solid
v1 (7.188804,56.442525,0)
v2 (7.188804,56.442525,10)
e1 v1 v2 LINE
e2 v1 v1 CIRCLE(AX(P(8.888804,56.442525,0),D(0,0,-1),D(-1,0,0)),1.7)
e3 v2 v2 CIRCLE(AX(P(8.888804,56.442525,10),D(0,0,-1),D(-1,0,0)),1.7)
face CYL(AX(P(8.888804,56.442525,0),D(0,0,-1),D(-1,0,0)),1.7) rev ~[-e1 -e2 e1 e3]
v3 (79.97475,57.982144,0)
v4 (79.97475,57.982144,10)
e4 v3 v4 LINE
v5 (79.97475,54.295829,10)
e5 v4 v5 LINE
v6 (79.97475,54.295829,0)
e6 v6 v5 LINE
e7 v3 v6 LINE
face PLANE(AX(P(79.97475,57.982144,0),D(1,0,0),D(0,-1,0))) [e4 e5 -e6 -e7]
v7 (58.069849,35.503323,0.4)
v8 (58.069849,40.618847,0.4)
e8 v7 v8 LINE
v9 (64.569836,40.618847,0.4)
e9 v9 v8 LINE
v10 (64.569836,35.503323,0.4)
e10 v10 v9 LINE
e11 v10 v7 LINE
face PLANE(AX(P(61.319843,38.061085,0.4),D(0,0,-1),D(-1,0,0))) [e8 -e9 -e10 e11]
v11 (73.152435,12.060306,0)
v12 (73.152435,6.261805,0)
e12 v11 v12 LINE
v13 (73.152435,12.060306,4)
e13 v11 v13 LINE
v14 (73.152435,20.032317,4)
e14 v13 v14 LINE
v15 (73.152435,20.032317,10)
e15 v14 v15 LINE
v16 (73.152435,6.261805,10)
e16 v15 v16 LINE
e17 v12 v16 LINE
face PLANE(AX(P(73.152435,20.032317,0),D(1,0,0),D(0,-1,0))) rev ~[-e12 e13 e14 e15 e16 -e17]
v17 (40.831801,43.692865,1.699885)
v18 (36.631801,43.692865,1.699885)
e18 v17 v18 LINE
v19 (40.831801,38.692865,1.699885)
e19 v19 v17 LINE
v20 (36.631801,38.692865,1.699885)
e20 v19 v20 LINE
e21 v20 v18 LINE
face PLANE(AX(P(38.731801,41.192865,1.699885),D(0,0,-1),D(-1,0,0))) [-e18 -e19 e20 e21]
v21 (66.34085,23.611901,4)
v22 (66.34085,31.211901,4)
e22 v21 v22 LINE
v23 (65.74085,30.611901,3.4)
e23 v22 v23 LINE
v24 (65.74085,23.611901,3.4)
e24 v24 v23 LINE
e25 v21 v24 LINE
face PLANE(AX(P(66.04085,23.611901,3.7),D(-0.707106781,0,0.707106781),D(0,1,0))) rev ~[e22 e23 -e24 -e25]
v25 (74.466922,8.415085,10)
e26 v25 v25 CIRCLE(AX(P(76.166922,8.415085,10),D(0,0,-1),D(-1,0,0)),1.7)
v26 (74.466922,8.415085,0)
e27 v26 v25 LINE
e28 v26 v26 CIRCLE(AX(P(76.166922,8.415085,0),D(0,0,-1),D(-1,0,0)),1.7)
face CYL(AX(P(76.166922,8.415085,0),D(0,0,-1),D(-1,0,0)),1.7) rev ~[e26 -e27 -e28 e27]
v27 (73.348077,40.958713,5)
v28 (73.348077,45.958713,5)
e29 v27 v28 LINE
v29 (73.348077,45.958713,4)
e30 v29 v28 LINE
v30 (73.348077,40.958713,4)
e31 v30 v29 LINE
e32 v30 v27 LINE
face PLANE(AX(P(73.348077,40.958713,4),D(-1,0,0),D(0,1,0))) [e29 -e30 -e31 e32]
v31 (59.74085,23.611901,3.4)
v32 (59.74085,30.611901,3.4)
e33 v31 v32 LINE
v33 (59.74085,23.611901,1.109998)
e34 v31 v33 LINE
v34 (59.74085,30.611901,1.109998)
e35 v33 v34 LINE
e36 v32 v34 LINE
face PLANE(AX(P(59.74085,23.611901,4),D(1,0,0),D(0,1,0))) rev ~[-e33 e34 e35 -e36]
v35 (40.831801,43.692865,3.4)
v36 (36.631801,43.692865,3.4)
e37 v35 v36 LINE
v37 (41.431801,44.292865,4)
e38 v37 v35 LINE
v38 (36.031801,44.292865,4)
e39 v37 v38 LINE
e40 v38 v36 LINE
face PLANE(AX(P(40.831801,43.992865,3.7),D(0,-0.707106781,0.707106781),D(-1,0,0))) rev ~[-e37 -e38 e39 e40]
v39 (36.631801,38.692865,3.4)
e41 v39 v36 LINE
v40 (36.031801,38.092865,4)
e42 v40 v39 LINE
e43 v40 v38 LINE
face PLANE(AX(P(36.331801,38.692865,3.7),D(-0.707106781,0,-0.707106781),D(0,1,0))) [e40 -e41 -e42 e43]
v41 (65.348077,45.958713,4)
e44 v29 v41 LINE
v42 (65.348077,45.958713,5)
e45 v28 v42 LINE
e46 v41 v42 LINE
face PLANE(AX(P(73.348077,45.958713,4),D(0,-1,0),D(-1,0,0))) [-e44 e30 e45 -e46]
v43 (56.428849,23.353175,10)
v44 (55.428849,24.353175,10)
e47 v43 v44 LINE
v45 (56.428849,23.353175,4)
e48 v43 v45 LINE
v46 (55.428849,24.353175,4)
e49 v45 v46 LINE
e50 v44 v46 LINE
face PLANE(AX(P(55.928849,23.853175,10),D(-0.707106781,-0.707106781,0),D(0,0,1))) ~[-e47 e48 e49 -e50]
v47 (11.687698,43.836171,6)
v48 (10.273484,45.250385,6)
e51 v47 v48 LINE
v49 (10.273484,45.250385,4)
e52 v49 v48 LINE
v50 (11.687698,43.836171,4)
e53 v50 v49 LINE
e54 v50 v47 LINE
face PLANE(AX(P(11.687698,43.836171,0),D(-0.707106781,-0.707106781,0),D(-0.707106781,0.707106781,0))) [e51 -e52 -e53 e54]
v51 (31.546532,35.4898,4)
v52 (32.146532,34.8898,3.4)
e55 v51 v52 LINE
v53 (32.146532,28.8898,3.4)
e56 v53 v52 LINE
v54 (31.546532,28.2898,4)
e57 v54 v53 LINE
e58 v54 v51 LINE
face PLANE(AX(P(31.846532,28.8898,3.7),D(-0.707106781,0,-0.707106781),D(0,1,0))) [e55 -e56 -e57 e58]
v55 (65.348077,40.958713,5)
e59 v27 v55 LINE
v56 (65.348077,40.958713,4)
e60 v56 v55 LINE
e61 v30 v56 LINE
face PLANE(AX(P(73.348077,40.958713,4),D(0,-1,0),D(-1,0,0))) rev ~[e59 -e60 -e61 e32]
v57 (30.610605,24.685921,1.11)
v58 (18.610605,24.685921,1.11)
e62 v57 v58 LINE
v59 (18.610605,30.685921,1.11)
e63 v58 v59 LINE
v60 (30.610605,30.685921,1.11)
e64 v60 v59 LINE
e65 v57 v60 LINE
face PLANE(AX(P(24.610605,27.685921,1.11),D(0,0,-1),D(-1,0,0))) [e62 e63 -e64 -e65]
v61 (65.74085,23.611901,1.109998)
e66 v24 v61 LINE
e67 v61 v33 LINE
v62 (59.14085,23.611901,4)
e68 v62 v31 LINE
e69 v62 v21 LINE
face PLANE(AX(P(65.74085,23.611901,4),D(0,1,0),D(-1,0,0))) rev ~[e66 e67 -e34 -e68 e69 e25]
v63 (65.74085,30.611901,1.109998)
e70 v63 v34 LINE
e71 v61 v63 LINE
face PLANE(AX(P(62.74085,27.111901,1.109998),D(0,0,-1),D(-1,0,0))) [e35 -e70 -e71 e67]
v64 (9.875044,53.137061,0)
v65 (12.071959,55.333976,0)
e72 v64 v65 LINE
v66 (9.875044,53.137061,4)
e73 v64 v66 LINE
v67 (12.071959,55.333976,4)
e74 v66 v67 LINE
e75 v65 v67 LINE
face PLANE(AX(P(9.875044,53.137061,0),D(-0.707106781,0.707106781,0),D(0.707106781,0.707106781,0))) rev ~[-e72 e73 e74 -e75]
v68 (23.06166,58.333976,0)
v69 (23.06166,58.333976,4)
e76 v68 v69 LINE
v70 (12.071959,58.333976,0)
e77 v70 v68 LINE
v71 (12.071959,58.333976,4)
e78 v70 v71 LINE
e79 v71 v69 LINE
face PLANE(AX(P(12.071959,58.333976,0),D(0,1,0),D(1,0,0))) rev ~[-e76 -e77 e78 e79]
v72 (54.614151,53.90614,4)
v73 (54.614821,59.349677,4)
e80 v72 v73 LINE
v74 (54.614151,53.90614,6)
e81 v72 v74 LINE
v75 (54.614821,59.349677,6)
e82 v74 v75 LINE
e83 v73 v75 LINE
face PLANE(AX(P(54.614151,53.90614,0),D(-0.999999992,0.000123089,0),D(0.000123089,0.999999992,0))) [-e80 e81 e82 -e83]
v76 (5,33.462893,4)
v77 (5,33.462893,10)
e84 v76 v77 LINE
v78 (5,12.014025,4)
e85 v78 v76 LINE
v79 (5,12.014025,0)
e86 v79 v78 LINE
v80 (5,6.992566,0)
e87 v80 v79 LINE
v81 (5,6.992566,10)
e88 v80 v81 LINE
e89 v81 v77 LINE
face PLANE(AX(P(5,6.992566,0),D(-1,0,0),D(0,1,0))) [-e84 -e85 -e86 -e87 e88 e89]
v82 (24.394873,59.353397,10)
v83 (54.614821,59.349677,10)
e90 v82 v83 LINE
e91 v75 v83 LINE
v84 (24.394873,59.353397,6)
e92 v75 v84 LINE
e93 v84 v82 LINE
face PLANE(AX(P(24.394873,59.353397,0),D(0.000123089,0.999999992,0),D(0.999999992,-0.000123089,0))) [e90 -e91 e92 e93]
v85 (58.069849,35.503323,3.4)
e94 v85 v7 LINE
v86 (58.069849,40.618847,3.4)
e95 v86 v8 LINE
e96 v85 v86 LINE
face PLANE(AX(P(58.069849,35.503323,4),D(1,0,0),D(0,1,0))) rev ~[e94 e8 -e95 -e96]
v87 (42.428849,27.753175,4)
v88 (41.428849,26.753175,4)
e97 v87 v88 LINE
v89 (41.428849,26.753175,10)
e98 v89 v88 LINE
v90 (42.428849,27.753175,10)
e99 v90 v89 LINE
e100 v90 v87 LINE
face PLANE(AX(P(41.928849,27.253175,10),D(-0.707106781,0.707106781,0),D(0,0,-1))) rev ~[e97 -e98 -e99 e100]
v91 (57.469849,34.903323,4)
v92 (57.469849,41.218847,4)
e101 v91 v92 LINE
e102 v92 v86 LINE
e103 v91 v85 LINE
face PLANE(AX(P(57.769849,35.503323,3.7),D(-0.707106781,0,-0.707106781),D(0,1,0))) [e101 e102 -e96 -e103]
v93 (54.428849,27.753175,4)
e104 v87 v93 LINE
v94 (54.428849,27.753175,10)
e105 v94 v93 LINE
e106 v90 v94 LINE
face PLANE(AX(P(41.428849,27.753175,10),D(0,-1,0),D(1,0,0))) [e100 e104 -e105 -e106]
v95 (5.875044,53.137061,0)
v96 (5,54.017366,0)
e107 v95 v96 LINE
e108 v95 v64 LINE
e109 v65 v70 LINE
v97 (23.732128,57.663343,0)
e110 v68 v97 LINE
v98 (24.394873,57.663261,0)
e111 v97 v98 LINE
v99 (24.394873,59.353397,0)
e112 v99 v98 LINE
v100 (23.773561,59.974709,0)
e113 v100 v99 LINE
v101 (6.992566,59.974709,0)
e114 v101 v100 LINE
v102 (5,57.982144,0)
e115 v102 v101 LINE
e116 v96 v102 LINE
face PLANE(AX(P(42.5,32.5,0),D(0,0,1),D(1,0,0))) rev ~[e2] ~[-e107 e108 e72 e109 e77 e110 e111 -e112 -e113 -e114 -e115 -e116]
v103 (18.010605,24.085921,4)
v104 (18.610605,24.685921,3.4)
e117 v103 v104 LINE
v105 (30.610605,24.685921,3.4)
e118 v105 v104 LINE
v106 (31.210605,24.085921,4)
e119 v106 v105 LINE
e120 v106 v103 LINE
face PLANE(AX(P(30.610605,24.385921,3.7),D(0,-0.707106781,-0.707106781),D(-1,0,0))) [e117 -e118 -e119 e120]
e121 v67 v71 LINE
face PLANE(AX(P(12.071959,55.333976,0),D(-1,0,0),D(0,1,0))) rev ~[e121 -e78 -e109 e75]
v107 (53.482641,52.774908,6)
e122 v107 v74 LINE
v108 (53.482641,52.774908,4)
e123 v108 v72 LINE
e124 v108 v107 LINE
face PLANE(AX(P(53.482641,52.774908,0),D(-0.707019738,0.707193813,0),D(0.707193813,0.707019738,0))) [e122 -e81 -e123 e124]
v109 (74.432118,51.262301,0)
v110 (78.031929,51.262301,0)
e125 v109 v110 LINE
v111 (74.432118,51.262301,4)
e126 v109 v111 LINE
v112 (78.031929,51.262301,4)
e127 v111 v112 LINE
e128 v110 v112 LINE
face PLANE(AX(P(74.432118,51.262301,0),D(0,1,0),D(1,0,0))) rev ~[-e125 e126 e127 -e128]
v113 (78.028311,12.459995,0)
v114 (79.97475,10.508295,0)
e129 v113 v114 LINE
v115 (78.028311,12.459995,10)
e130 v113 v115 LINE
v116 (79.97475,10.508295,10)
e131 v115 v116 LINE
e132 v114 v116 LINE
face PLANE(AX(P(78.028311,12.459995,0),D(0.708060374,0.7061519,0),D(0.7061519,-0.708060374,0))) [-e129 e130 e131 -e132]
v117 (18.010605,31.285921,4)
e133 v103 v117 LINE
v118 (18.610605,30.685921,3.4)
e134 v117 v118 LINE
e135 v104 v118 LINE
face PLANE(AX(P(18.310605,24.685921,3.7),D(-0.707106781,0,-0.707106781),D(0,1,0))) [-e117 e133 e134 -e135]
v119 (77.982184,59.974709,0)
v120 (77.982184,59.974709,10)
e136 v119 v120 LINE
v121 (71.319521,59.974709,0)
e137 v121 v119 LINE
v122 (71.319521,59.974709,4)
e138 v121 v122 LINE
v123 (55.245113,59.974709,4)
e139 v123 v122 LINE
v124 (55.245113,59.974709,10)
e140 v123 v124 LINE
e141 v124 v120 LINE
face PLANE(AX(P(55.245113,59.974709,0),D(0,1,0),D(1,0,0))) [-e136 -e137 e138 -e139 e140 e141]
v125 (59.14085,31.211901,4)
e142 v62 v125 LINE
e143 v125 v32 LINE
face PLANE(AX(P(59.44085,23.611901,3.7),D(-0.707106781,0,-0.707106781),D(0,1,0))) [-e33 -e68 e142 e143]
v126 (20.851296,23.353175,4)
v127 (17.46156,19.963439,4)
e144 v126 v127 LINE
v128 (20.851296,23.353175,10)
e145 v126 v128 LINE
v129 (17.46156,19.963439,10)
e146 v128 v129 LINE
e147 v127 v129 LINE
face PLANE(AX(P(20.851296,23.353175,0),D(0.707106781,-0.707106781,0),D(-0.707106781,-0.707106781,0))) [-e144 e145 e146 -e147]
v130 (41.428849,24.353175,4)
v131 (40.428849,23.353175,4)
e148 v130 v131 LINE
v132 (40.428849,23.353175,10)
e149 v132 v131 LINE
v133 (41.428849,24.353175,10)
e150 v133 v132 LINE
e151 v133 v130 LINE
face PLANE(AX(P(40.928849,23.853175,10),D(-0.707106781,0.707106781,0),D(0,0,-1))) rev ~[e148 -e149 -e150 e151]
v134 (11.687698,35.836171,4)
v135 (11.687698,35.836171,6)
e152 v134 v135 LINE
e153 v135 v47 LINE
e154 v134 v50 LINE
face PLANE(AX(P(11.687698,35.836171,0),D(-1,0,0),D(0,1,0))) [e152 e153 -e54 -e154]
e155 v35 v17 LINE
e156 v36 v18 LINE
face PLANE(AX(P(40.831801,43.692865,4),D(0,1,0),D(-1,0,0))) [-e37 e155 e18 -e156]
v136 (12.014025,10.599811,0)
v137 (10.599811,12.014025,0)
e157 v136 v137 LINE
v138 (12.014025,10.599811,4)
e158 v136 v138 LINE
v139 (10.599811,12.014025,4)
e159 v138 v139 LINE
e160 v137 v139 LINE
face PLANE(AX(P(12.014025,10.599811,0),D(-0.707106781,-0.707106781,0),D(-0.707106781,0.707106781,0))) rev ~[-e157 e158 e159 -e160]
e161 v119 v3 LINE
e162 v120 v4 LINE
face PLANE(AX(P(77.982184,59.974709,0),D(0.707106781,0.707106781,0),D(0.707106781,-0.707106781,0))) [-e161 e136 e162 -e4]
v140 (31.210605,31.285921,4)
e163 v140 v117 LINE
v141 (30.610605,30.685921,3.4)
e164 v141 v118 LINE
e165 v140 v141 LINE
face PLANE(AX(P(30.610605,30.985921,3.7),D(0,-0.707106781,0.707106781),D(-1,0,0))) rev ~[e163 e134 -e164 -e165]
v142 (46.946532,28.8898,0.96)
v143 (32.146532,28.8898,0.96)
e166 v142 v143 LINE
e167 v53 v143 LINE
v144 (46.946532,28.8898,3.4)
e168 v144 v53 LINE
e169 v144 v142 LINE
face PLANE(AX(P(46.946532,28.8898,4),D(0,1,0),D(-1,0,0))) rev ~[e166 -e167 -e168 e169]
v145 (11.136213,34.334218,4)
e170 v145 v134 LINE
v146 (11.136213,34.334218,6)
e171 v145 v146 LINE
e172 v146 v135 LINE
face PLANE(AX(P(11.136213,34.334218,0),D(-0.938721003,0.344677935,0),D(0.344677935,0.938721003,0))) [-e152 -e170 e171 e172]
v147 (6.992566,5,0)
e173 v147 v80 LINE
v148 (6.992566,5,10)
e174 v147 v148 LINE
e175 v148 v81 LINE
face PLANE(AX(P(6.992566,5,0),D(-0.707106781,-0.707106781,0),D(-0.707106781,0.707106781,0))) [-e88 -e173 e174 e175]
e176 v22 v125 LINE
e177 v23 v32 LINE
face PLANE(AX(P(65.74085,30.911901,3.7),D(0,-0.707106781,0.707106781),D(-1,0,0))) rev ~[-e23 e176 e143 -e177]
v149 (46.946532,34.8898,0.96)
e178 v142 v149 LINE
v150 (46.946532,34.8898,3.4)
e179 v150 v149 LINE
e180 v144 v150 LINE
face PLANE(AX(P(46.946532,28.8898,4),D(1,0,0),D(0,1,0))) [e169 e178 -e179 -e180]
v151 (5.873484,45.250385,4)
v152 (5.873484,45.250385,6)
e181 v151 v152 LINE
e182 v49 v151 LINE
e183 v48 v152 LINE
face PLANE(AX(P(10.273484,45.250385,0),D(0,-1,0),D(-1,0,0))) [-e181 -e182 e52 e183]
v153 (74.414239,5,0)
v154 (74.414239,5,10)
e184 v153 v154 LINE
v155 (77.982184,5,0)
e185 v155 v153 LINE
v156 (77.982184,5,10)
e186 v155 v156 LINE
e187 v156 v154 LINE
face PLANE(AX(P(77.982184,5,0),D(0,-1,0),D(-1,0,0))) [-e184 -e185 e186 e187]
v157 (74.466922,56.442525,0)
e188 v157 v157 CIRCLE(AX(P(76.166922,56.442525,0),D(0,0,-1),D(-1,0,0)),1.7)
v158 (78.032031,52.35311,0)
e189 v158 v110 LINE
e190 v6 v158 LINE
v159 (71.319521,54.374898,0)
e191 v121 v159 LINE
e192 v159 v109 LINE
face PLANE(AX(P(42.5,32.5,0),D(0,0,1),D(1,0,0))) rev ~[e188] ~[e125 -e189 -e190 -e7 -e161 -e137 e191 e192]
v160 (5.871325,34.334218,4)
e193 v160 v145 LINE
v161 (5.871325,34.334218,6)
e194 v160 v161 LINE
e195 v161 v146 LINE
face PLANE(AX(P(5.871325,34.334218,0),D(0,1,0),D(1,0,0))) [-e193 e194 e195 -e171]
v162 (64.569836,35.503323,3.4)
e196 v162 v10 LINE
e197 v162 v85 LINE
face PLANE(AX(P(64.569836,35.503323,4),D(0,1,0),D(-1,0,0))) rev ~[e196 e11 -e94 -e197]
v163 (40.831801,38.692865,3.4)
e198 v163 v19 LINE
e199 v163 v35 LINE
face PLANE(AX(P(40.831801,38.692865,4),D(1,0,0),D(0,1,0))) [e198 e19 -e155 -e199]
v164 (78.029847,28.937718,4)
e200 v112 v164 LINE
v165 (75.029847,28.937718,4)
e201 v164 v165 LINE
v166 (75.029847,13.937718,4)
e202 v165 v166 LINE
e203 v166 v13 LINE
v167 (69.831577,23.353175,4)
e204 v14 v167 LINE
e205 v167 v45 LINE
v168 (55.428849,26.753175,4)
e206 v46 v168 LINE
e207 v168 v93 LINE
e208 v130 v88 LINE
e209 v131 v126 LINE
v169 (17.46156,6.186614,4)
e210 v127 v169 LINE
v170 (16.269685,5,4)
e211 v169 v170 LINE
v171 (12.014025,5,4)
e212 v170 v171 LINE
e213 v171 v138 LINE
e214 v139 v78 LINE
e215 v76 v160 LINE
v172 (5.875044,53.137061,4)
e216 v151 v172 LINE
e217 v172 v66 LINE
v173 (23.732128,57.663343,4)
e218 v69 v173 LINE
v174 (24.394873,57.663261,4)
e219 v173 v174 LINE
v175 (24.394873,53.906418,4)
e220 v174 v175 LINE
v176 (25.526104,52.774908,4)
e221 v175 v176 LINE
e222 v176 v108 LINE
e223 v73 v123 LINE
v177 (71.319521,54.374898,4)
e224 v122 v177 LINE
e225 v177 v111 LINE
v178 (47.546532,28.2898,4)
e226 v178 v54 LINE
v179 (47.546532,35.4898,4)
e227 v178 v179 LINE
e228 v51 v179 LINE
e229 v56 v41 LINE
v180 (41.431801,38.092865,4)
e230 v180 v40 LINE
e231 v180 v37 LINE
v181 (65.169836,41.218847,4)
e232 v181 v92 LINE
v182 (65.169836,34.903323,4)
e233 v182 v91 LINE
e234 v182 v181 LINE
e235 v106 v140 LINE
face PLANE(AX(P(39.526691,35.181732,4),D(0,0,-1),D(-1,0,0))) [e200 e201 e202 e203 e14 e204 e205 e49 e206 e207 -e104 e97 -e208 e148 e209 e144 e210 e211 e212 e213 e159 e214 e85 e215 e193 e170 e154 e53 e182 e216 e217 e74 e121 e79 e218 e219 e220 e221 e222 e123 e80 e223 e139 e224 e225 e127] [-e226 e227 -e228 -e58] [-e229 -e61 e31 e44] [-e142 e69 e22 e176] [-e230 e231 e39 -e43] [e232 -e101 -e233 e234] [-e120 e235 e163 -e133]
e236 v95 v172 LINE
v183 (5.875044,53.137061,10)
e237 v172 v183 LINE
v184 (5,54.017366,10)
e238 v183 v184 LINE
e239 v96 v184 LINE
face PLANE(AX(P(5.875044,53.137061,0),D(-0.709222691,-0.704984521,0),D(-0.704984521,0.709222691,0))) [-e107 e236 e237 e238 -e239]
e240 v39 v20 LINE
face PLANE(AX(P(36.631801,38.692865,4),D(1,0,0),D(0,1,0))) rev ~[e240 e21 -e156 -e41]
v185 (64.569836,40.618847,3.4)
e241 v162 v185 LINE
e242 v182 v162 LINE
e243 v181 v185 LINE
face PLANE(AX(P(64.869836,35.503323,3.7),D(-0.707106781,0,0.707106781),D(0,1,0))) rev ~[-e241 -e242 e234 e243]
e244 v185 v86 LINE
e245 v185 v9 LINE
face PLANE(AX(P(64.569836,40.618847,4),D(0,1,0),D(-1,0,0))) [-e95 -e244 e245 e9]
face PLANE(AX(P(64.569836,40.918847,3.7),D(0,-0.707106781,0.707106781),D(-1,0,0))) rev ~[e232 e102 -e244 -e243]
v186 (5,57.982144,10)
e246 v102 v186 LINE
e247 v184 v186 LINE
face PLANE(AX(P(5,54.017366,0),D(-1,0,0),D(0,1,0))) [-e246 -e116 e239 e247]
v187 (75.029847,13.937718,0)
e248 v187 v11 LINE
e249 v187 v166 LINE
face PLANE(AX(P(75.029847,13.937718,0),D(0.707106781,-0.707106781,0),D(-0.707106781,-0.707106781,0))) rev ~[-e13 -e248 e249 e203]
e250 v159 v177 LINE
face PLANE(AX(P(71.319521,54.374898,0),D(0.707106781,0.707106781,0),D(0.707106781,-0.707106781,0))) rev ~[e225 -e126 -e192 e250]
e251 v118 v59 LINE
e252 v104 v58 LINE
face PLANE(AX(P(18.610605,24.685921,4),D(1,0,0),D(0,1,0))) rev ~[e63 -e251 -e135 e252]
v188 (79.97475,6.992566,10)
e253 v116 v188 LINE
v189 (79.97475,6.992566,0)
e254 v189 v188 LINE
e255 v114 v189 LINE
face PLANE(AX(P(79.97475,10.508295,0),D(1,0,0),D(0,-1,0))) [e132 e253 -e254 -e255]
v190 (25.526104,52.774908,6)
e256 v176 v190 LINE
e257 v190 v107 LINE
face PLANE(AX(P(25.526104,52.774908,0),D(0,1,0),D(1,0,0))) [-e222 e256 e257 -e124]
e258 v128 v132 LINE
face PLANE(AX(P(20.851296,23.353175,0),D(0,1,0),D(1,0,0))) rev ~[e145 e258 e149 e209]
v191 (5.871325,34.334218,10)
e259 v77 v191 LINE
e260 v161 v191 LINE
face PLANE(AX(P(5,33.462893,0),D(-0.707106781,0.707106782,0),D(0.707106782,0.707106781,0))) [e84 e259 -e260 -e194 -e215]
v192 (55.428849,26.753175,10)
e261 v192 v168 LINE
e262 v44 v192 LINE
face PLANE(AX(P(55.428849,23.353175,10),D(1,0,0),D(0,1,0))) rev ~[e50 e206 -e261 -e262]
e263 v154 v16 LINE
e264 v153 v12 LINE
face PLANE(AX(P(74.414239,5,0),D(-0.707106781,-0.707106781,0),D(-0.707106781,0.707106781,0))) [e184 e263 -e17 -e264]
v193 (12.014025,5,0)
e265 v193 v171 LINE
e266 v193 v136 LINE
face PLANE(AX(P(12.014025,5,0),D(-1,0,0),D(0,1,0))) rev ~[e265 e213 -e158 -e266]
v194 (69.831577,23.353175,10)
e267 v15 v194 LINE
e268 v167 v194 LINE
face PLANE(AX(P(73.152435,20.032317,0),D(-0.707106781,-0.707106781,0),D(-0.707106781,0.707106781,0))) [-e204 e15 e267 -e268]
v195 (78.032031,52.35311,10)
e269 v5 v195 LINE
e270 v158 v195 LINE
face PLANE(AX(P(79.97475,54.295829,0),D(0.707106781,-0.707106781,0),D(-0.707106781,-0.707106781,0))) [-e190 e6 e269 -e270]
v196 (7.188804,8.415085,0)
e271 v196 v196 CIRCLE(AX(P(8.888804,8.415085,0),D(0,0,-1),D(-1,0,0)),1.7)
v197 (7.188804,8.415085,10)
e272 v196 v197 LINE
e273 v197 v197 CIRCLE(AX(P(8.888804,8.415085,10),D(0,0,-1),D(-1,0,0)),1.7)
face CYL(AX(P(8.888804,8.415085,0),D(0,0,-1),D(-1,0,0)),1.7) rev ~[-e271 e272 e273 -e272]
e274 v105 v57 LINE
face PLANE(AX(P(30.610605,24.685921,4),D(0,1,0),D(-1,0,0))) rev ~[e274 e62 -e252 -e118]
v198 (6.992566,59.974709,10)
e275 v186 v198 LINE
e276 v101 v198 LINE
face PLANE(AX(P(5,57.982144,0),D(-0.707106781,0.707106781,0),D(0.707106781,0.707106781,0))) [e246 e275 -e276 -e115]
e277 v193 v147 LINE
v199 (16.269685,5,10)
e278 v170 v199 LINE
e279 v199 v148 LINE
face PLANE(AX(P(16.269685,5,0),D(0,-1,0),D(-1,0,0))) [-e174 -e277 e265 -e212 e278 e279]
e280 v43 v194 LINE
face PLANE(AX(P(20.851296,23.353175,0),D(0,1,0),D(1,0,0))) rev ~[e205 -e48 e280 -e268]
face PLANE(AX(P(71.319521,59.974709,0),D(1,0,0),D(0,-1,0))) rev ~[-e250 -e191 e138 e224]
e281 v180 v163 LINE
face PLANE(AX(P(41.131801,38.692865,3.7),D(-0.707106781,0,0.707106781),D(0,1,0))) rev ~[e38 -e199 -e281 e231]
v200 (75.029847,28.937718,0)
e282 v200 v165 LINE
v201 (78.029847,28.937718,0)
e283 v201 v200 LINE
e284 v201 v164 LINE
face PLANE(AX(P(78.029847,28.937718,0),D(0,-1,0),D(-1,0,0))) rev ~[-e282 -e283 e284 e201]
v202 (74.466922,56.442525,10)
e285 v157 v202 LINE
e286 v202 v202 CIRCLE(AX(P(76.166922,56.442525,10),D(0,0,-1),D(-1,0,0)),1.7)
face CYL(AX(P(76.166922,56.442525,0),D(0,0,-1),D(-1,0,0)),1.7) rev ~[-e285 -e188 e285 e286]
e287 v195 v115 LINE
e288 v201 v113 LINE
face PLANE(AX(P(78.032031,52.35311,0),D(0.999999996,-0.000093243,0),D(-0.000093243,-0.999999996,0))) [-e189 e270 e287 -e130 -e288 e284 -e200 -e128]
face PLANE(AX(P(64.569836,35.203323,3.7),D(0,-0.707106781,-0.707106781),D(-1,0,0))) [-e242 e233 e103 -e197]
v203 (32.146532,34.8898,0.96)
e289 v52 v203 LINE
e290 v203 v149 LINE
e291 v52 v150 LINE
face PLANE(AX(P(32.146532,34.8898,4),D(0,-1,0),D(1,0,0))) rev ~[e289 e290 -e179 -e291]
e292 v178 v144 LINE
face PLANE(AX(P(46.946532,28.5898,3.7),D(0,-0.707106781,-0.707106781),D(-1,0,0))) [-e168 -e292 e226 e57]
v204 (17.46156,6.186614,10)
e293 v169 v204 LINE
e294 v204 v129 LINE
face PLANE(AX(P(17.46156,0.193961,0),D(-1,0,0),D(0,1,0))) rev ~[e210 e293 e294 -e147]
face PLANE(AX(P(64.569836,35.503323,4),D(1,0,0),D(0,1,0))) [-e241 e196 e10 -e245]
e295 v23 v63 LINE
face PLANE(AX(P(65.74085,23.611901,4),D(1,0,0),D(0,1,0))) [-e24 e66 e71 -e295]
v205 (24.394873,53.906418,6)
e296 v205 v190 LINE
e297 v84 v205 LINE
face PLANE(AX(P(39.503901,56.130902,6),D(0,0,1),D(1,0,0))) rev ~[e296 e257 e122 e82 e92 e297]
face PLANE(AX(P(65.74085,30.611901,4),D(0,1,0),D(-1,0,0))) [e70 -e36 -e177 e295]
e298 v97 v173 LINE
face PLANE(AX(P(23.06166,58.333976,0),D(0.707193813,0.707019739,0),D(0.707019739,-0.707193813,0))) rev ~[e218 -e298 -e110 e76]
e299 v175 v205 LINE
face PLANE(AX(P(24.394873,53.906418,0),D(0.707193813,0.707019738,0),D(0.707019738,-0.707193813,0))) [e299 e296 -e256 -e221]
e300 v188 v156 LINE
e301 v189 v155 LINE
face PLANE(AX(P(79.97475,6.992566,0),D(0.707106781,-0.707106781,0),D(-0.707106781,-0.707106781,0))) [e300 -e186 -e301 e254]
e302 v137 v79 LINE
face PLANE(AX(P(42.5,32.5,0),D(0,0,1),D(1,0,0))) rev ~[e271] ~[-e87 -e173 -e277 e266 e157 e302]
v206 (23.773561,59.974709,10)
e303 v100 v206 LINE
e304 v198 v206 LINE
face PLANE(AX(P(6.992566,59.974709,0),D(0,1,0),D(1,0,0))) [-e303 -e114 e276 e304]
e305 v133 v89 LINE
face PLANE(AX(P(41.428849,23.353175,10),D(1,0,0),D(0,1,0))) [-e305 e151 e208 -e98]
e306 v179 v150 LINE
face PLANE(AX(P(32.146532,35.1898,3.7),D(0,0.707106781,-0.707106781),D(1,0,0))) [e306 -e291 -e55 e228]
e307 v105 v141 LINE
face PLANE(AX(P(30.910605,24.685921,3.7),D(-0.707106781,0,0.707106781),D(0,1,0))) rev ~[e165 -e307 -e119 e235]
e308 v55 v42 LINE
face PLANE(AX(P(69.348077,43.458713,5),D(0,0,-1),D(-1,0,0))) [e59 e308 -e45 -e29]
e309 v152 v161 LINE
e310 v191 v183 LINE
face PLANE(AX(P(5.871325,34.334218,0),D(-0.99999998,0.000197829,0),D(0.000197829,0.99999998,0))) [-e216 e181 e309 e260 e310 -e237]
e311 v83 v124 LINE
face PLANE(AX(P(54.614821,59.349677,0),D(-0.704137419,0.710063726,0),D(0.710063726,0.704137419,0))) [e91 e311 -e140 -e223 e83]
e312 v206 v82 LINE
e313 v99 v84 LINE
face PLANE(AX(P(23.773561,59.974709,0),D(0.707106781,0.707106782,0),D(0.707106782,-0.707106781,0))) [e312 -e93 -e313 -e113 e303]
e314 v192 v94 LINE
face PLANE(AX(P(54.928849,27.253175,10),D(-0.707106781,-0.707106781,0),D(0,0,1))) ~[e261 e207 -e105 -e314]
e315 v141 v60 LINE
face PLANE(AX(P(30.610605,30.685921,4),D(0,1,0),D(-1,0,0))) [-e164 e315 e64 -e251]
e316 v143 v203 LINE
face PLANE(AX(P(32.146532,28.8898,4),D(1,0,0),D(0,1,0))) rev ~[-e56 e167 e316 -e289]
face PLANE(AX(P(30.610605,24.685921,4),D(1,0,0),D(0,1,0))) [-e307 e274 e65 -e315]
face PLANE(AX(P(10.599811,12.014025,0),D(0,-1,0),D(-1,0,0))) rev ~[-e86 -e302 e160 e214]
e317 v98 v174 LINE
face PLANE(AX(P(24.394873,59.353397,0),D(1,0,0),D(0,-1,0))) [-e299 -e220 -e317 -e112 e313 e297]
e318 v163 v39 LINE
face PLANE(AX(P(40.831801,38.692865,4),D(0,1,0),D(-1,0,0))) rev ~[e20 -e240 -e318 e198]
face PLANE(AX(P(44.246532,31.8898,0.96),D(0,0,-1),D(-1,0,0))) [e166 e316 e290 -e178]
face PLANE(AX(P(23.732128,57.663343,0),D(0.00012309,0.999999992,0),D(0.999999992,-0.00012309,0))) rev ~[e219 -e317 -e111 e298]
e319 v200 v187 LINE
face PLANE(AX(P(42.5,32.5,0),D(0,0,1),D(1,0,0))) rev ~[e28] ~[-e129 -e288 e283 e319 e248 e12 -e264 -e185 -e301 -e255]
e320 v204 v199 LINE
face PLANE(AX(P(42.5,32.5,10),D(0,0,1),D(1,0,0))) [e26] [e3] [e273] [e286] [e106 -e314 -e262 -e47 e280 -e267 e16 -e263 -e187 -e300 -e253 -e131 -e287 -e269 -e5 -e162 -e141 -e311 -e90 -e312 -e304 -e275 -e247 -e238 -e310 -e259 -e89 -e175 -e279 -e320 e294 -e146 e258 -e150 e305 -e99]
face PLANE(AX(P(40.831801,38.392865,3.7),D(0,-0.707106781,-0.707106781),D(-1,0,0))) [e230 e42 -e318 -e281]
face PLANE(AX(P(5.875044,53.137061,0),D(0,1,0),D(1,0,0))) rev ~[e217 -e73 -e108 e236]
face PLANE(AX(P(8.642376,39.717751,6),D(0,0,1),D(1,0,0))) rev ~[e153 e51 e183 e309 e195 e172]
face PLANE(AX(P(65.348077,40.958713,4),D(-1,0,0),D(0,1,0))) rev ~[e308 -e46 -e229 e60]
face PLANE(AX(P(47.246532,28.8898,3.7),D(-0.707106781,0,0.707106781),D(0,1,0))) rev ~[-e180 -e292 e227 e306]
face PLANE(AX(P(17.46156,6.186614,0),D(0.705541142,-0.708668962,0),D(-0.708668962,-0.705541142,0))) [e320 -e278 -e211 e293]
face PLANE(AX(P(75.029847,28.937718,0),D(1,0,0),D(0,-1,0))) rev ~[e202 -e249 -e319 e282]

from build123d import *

# Parameters (mm, degrees)
SKETCH_1_W           = 85
SKETCH_1_H           = 65
EXTRUDE_1_DEPTH      = 10
CUT_EXTRUDE_1_REACH  = 109.471
SKETCH_2_R           = 1.7
CUT_EXTRUDE_2_REACH  = 109.471
SKETCH_3_W           = 85
SKETCH_3_H           = 65
CUT_EXTRUDE_4_REACH  = 102.464
CUT_EXTRUDE_7_DEPTH  = 6
CUT_EXTRUDE_8_DEPTH  = 6
CUT_EXTRUDE_11_DEPTH = 4
SKETCH_8_W           = 8
SKETCH_8_H           = 5
CUT_EXTRUDE_12_DEPTH = 1
SKETCH_10_W          = 5.4
SKETCH_10_H          = 6
SKETCH_10_W_2        = 4
EXTRUDE_2_DEPTH      = 3.04
SKETCH_11_W          = 4.2
SKETCH_11_H          = 5
EXTRUDE_3_DEPTH      = 2.300115
SKETCH_12_W          = 12
SKETCH_12_H          = 6
EXTRUDE_4_DEPTH      = 2.89
SKETCH_13_W          = 6.499986347
SKETCH_13_H          = 5.115524378
EXTRUDE_5_DEPTH      = 3.6
SKETCH_14_W          = 6
SKETCH_14_H          = 7
EXTRUDE_6_DEPTH      = 2.890002
SKETCH_15_W          = 14
SKETCH_15_H          = 4.4
CUT_EXTRUDE_13_DEPTH = 6
CHAMFER_1_SIZE       = 1
CHAMFER_2_SIZE       = 0.6
CHAMFER_3_SIZE       = 0.6
CHAMFER_4_SIZE       = 0.6
CHAMFER_5_SIZE       = 0.6
CHAMFER_6_SIZE       = 0.6


with BuildPart() as part:
    # 草图1 → 凸台-拉伸1 (new body)
    with BuildSketch(Plane.XY):
        with Locations((42.5, 32.5)):
            Rectangle(SKETCH_1_W, SKETCH_1_H)
    extrude(amount=EXTRUDE_1_DEPTH)

    # 草图2 → 切除-拉伸1 (cut, up to next)
    with BuildSketch(Plane(origin=(0, 0, 0), x_dir=(-1, 0, 0), z_dir=(0, 0, -1)), mode=Mode.PRIVATE) as cut_extrude_1_sk1:
        with Locations((-76.166921514, 56.442524765)):
            Circle(SKETCH_2_R)
    cut_extrude_1_tool1 = extrude(cut_extrude_1_sk1.sketch, amount=-CUT_EXTRUDE_1_REACH, mode=Mode.PRIVATE) & part.part
    # 草图2 → 切除-拉伸1 (cut, up to next)
    with BuildSketch(Plane(origin=(0, 0, 0), x_dir=(-1, 0, 0), z_dir=(0, 0, -1)), mode=Mode.PRIVATE) as cut_extrude_1_sk2:
        with Locations((-8.888803658, 56.442524765)):
            Circle(SKETCH_2_R)
    cut_extrude_1_tool2 = extrude(cut_extrude_1_sk2.sketch, amount=-CUT_EXTRUDE_1_REACH, mode=Mode.PRIVATE) & part.part
    # 草图2 → 切除-拉伸1 (cut, up to next)
    with BuildSketch(Plane(origin=(0, 0, 0), x_dir=(-1, 0, 0), z_dir=(0, 0, -1)), mode=Mode.PRIVATE) as cut_extrude_1_sk3:
        with Locations((-76.166921514, 8.41508509)):
            Circle(SKETCH_2_R)
    cut_extrude_1_tool3 = extrude(cut_extrude_1_sk3.sketch, amount=-CUT_EXTRUDE_1_REACH, mode=Mode.PRIVATE) & part.part
    # 草图2 → 切除-拉伸1 (cut, up to next)
    with BuildSketch(Plane(origin=(0, 0, 0), x_dir=(-1, 0, 0), z_dir=(0, 0, -1)), mode=Mode.PRIVATE) as cut_extrude_1_sk4:
        with Locations((-8.888803658, 8.41508509)):
            Circle(SKETCH_2_R)
    cut_extrude_1_tool4 = extrude(cut_extrude_1_sk4.sketch, amount=-CUT_EXTRUDE_1_REACH, mode=Mode.PRIVATE) & part.part
    add(cut_extrude_1_tool1.solids().sort_by_distance((76.166922, 56.442525, 0))[0], mode=Mode.SUBTRACT)
    add(cut_extrude_1_tool2.solids().sort_by_distance((8.888804, 56.442525, 0))[0], mode=Mode.SUBTRACT)
    add(cut_extrude_1_tool3.solids().sort_by_distance((76.166922, 8.415085, 0))[0], mode=Mode.SUBTRACT)
    add(cut_extrude_1_tool4.solids().sort_by_distance((8.888804, 8.415085, 0))[0], mode=Mode.SUBTRACT)

    # 草图3 → 切除-拉伸2 (cut, up to next)
    with BuildSketch(Plane(origin=(0, 0, 0), x_dir=(-1, 0, 0), z_dir=(0, 0, -1)), mode=Mode.PRIVATE) as cut_extrude_2_sk1:
        with Locations((-42.5, 32.5)):
            Rectangle(SKETCH_3_W, SKETCH_3_H)
        Polygon((-5, 33.462892894), (-5.871324699, 34.334217592), (-5.87504445, 53.137061214), (-5, 54.017366187), (-5, 57.982143592), (-6.992565577, 59.974709169), (-23.773560915, 59.974709169), (-24.394872914, 59.353397171), (-54.61482093, 59.349677419), (-55.245113202, 59.974709169), (-77.982184232, 59.974709169), (-79.974749809, 57.982143592), (-79.97474981, 54.295829484), (-78.032030648, 52.353110322), (-78.028310897, 12.45999492), (-79.97474981, 10.508295484), (-79.97474981, 6.992565577), (-77.982184232, 5), (-74.414239441, 5), (-73.152434681, 6.26180476), (-60.043505207, 6.265524511), (-58.772720173, 5), (-32.926479725, 5), (-31.743585303, 6.182894422), (-17.461559563, 6.186614173), (-16.269684867, 5), (-6.992565577, 5), (-5, 6.992565577), align=None, mode=Mode.SUBTRACT)
    cut_extrude_2_tool1 = extrude(cut_extrude_2_sk1.sketch, amount=-CUT_EXTRUDE_2_REACH, mode=Mode.PRIVATE) & part.part
    add(cut_extrude_2_tool1.solids().sort_by_distance((42.5, 63.929953, 0))[0], mode=Mode.SUBTRACT)

    # 草图4 → 切除-拉伸4 (cut, up to next)
    with BuildSketch(Plane(origin=(0, 0, 0), x_dir=(-1, 0, 0), z_dir=(0, 0, -1)), mode=Mode.PRIVATE) as cut_extrude_4_sk1:
        Polygon((-73.152434681, 6.26180476), (-73.152434681, 20.032317315), (-69.831576581, 23.353175415), (-46.787984184, 23.353175415), (-20.851296271, 23.353175415), (-17.461559563, 19.963438707), (-17.461559563, 6.186614173), (-17.461559563, 0.193960815), (-73.152434681, 0.193960815), align=None)
    cut_extrude_4_tool1 = extrude(cut_extrude_4_sk1.sketch, amount=-CUT_EXTRUDE_4_REACH, mode=Mode.PRIVATE) & part.part
    add(cut_extrude_4_tool1.solids().sort_by_distance((45.311727, 11.681443, 0))[0], mode=Mode.SUBTRACT)

    # 草图5 → 切除-拉伸7 (cut)
    with BuildSketch(Plane(origin=(0, 0, 0), x_dir=(-1, 0, 0), z_dir=(0, 0, -1))):
        Polygon((-24.394872914, 59.353397171), (-24.394872914, 53.906418167), (-25.526104495, 52.774908066), (-53.482640788, 52.774908066), (-54.614150889, 53.906139647), (-54.61482093, 59.349677419), align=None)
    extrude(amount=-CUT_EXTRUDE_7_DEPTH, mode=Mode.SUBTRACT)

    # 草图6 → 切除-拉伸8 (cut)
    with BuildSketch(Plane(origin=(0, 0, 0), x_dir=(-1, 0, 0), z_dir=(0, 0, -1))):
        Polygon((-5.871324699, 34.334217592), (-11.136213102, 34.334217592), (-11.687697798, 35.836171197), (-11.687697798, 43.836171197), (-10.273484235, 45.250384759), (-5.873484235, 45.250384759), align=None)
    extrude(amount=-CUT_EXTRUDE_8_DEPTH, mode=Mode.SUBTRACT)

    # 草图7 → 切除-拉伸11 (cut)
    with BuildSketch(Plane(origin=(0, 0, 0), x_dir=(-1, 0, 0), z_dir=(0, 0, -1))):
        Polygon((-74.432117646, 51.26230094), (-76.432117646, 51.26230094), (-78.031928938, 51.26230094), (-78.029847328, 28.93771831), (-75.029847328, 28.93771831), (-75.029847328, 13.93771831), (-73.152434681, 12.060305663), (-73.152434681, 20.032317315), (-69.831576581, 23.353175415), (-20.851296271, 23.353175415), (-17.461559563, 19.963438707), (-17.461559563, 6.186614173), (-16.269684867, 5), (-12.014024847, 5), (-12.014024847, 10.599811284), (-10.599811284, 12.014024847), (-6.599811284, 12.014024847), (-5, 12.014024847), (-5, 33.462892894), (-5.871324699, 34.334217592), (-11.136213102, 34.334217592), (-11.687697798, 35.836171197), (-11.687697798, 43.836171197), (-10.273484235, 45.250384759), (-5.873484235, 45.250384759), (-5.87504445, 53.137061214), (-9.87504445, 53.137061214), (-12.071959353, 55.333976117), (-12.071959353, 58.333976117), (-23.061659554, 58.333976117), (-23.732127818, 57.663342778), (-24.394872914, 57.663261201), (-24.394872914, 53.906418167), (-25.526104495, 52.774908066), (-53.482640788, 52.774908066), (-54.614150889, 53.906139647), (-54.61482093, 59.349677419), (-55.245113202, 59.974709169), (-71.319520701, 59.974709169), (-71.319520701, 58.374897885), (-71.319520701, 54.374897885), align=None)
    extrude(amount=-CUT_EXTRUDE_11_DEPTH, mode=Mode.SUBTRACT)

    # 草图8 → 切除-拉伸12 (cut)
    with BuildSketch(Plane(origin=(0, 0, 4), x_dir=(-1, 0, 0), z_dir=(0, 0, -1))):
        with Locations((-69.348077333, 43.45871309)):
            Rectangle(SKETCH_8_W, SKETCH_8_H)
    extrude(amount=-CUT_EXTRUDE_12_DEPTH, mode=Mode.SUBTRACT)

    # 草图10 → 凸台-拉伸2 (add)
    with BuildSketch(Plane(origin=(0, 0, 4), x_dir=(-1, 0, 0), z_dir=(0, 0, -1))):
        with Locations((-44.246532103, 31.889800214)):
            Rectangle(SKETCH_10_W, SKETCH_10_H)
        with Locations((-39.546532103, 31.889800214)):
            Rectangle(SKETCH_10_W_2, SKETCH_10_H)
        with Locations((-34.846532103, 31.889800214)):
            Rectangle(SKETCH_10_W, SKETCH_10_H)
    extrude(amount=EXTRUDE_2_DEPTH)

    # 草图11 → 凸台-拉伸3 (add)
    with BuildSketch(Plane(origin=(0, 0, 4), x_dir=(-1, 0, 0), z_dir=(0, 0, -1))):
        with Locations((-38.731800654, 41.192864876)):
            Rectangle(SKETCH_11_W, SKETCH_11_H)
    extrude(amount=EXTRUDE_3_DEPTH)

    # 草图12 → 凸台-拉伸4 (add)
    with BuildSketch(Plane(origin=(0, 0, 4), x_dir=(-1, 0, 0), z_dir=(0, 0, -1))):
        with Locations((-24.610605003, 27.685920752)):
            Rectangle(SKETCH_12_W, SKETCH_12_H)
    extrude(amount=EXTRUDE_4_DEPTH)

    # 草图13 → 凸台-拉伸5 (add)
    with BuildSketch(Plane(origin=(0, 0, 4), x_dir=(-1, 0, 0), z_dir=(0, 0, -1))):
        with Locations((-61.319842519, 38.061085021)):
            Rectangle(SKETCH_13_W, SKETCH_13_H)
    extrude(amount=EXTRUDE_5_DEPTH)

    # 草图14 → 凸台-拉伸6 (add)
    with BuildSketch(Plane(origin=(0, 0, 4), x_dir=(-1, 0, 0), z_dir=(0, 0, -1))):
        with Locations((-62.740849727, 27.111901224)):
            Rectangle(SKETCH_14_W, SKETCH_14_H)
    extrude(amount=EXTRUDE_6_DEPTH)

    # 草图15 → 切除-拉伸13 (cut)
    with BuildSketch(Plane.XY.offset(10)):
        with Locations((48.428848604, 25.553175415)):
            Rectangle(SKETCH_15_W, SKETCH_15_H)
    extrude(amount=-CUT_EXTRUDE_13_DEPTH, mode=Mode.SUBTRACT)

    # 倒角1
    chamfer_1_edges = [part.edges().sort_by_distance(p)[0] for p in [
        (55.428848604, 23.353175415, 7),
        (55.428848604, 27.753175415, 7),
        (41.428848604, 27.753175415, 7),
        (41.428848604, 23.353175415, 7),
    ]]
    chamfer(chamfer_1_edges, length=CHAMFER_1_SIZE)

    # 倒角2
    chamfer_2_edges = [part.edges().sort_by_distance(p)[0] for p in [
        (64.569835693, 38.061085021, 4),
        (61.31984252, 35.503322832, 4),
        (58.069849346, 38.061085021, 4),
        (61.31984252, 40.61884721, 4),
    ]]
    chamfer(chamfer_2_edges, length=CHAMFER_2_SIZE)

    # 倒角3
    chamfer_3_edges = [part.edges().sort_by_distance(p)[0] for p in [
        (39.546532103, 28.889800214, 4),
        (46.946532103, 31.889800214, 4),
        (39.546532103, 34.889800214, 4),
        (32.146532103, 31.889800214, 4),
    ]]
    chamfer(chamfer_3_edges, length=CHAMFER_3_SIZE)

    # 倒角4
    chamfer_4_edges = [part.edges().sort_by_distance(p)[0] for p in [
        (30.610605003, 27.685920752, 4),
        (24.610605003, 24.685920752, 4),
        (18.610605003, 27.685920752, 4),
        (24.610605003, 30.685920752, 4),
    ]]
    chamfer(chamfer_4_edges, length=CHAMFER_4_SIZE)

    # 倒角5
    chamfer_5_edges = [part.edges().sort_by_distance(p)[0] for p in [
        (40.831800654, 41.192864876, 4),
        (38.731800654, 38.692864876, 4),
        (36.631800654, 41.192864876, 4),
        (38.731800654, 43.692864876, 4),
    ]]
    chamfer(chamfer_5_edges, length=CHAMFER_5_SIZE)

    # 倒角6
    chamfer_6_edges = [part.edges().sort_by_distance(p)[0] for p in [
        (65.740849727, 27.111901224, 4),
        (59.740849727, 27.111901224, 4),
        (62.740849727, 30.611901224, 4),
    ]]
    chamfer(chamfer_6_edges, length=CHAMFER_6_SIZE)


solid = part.part
